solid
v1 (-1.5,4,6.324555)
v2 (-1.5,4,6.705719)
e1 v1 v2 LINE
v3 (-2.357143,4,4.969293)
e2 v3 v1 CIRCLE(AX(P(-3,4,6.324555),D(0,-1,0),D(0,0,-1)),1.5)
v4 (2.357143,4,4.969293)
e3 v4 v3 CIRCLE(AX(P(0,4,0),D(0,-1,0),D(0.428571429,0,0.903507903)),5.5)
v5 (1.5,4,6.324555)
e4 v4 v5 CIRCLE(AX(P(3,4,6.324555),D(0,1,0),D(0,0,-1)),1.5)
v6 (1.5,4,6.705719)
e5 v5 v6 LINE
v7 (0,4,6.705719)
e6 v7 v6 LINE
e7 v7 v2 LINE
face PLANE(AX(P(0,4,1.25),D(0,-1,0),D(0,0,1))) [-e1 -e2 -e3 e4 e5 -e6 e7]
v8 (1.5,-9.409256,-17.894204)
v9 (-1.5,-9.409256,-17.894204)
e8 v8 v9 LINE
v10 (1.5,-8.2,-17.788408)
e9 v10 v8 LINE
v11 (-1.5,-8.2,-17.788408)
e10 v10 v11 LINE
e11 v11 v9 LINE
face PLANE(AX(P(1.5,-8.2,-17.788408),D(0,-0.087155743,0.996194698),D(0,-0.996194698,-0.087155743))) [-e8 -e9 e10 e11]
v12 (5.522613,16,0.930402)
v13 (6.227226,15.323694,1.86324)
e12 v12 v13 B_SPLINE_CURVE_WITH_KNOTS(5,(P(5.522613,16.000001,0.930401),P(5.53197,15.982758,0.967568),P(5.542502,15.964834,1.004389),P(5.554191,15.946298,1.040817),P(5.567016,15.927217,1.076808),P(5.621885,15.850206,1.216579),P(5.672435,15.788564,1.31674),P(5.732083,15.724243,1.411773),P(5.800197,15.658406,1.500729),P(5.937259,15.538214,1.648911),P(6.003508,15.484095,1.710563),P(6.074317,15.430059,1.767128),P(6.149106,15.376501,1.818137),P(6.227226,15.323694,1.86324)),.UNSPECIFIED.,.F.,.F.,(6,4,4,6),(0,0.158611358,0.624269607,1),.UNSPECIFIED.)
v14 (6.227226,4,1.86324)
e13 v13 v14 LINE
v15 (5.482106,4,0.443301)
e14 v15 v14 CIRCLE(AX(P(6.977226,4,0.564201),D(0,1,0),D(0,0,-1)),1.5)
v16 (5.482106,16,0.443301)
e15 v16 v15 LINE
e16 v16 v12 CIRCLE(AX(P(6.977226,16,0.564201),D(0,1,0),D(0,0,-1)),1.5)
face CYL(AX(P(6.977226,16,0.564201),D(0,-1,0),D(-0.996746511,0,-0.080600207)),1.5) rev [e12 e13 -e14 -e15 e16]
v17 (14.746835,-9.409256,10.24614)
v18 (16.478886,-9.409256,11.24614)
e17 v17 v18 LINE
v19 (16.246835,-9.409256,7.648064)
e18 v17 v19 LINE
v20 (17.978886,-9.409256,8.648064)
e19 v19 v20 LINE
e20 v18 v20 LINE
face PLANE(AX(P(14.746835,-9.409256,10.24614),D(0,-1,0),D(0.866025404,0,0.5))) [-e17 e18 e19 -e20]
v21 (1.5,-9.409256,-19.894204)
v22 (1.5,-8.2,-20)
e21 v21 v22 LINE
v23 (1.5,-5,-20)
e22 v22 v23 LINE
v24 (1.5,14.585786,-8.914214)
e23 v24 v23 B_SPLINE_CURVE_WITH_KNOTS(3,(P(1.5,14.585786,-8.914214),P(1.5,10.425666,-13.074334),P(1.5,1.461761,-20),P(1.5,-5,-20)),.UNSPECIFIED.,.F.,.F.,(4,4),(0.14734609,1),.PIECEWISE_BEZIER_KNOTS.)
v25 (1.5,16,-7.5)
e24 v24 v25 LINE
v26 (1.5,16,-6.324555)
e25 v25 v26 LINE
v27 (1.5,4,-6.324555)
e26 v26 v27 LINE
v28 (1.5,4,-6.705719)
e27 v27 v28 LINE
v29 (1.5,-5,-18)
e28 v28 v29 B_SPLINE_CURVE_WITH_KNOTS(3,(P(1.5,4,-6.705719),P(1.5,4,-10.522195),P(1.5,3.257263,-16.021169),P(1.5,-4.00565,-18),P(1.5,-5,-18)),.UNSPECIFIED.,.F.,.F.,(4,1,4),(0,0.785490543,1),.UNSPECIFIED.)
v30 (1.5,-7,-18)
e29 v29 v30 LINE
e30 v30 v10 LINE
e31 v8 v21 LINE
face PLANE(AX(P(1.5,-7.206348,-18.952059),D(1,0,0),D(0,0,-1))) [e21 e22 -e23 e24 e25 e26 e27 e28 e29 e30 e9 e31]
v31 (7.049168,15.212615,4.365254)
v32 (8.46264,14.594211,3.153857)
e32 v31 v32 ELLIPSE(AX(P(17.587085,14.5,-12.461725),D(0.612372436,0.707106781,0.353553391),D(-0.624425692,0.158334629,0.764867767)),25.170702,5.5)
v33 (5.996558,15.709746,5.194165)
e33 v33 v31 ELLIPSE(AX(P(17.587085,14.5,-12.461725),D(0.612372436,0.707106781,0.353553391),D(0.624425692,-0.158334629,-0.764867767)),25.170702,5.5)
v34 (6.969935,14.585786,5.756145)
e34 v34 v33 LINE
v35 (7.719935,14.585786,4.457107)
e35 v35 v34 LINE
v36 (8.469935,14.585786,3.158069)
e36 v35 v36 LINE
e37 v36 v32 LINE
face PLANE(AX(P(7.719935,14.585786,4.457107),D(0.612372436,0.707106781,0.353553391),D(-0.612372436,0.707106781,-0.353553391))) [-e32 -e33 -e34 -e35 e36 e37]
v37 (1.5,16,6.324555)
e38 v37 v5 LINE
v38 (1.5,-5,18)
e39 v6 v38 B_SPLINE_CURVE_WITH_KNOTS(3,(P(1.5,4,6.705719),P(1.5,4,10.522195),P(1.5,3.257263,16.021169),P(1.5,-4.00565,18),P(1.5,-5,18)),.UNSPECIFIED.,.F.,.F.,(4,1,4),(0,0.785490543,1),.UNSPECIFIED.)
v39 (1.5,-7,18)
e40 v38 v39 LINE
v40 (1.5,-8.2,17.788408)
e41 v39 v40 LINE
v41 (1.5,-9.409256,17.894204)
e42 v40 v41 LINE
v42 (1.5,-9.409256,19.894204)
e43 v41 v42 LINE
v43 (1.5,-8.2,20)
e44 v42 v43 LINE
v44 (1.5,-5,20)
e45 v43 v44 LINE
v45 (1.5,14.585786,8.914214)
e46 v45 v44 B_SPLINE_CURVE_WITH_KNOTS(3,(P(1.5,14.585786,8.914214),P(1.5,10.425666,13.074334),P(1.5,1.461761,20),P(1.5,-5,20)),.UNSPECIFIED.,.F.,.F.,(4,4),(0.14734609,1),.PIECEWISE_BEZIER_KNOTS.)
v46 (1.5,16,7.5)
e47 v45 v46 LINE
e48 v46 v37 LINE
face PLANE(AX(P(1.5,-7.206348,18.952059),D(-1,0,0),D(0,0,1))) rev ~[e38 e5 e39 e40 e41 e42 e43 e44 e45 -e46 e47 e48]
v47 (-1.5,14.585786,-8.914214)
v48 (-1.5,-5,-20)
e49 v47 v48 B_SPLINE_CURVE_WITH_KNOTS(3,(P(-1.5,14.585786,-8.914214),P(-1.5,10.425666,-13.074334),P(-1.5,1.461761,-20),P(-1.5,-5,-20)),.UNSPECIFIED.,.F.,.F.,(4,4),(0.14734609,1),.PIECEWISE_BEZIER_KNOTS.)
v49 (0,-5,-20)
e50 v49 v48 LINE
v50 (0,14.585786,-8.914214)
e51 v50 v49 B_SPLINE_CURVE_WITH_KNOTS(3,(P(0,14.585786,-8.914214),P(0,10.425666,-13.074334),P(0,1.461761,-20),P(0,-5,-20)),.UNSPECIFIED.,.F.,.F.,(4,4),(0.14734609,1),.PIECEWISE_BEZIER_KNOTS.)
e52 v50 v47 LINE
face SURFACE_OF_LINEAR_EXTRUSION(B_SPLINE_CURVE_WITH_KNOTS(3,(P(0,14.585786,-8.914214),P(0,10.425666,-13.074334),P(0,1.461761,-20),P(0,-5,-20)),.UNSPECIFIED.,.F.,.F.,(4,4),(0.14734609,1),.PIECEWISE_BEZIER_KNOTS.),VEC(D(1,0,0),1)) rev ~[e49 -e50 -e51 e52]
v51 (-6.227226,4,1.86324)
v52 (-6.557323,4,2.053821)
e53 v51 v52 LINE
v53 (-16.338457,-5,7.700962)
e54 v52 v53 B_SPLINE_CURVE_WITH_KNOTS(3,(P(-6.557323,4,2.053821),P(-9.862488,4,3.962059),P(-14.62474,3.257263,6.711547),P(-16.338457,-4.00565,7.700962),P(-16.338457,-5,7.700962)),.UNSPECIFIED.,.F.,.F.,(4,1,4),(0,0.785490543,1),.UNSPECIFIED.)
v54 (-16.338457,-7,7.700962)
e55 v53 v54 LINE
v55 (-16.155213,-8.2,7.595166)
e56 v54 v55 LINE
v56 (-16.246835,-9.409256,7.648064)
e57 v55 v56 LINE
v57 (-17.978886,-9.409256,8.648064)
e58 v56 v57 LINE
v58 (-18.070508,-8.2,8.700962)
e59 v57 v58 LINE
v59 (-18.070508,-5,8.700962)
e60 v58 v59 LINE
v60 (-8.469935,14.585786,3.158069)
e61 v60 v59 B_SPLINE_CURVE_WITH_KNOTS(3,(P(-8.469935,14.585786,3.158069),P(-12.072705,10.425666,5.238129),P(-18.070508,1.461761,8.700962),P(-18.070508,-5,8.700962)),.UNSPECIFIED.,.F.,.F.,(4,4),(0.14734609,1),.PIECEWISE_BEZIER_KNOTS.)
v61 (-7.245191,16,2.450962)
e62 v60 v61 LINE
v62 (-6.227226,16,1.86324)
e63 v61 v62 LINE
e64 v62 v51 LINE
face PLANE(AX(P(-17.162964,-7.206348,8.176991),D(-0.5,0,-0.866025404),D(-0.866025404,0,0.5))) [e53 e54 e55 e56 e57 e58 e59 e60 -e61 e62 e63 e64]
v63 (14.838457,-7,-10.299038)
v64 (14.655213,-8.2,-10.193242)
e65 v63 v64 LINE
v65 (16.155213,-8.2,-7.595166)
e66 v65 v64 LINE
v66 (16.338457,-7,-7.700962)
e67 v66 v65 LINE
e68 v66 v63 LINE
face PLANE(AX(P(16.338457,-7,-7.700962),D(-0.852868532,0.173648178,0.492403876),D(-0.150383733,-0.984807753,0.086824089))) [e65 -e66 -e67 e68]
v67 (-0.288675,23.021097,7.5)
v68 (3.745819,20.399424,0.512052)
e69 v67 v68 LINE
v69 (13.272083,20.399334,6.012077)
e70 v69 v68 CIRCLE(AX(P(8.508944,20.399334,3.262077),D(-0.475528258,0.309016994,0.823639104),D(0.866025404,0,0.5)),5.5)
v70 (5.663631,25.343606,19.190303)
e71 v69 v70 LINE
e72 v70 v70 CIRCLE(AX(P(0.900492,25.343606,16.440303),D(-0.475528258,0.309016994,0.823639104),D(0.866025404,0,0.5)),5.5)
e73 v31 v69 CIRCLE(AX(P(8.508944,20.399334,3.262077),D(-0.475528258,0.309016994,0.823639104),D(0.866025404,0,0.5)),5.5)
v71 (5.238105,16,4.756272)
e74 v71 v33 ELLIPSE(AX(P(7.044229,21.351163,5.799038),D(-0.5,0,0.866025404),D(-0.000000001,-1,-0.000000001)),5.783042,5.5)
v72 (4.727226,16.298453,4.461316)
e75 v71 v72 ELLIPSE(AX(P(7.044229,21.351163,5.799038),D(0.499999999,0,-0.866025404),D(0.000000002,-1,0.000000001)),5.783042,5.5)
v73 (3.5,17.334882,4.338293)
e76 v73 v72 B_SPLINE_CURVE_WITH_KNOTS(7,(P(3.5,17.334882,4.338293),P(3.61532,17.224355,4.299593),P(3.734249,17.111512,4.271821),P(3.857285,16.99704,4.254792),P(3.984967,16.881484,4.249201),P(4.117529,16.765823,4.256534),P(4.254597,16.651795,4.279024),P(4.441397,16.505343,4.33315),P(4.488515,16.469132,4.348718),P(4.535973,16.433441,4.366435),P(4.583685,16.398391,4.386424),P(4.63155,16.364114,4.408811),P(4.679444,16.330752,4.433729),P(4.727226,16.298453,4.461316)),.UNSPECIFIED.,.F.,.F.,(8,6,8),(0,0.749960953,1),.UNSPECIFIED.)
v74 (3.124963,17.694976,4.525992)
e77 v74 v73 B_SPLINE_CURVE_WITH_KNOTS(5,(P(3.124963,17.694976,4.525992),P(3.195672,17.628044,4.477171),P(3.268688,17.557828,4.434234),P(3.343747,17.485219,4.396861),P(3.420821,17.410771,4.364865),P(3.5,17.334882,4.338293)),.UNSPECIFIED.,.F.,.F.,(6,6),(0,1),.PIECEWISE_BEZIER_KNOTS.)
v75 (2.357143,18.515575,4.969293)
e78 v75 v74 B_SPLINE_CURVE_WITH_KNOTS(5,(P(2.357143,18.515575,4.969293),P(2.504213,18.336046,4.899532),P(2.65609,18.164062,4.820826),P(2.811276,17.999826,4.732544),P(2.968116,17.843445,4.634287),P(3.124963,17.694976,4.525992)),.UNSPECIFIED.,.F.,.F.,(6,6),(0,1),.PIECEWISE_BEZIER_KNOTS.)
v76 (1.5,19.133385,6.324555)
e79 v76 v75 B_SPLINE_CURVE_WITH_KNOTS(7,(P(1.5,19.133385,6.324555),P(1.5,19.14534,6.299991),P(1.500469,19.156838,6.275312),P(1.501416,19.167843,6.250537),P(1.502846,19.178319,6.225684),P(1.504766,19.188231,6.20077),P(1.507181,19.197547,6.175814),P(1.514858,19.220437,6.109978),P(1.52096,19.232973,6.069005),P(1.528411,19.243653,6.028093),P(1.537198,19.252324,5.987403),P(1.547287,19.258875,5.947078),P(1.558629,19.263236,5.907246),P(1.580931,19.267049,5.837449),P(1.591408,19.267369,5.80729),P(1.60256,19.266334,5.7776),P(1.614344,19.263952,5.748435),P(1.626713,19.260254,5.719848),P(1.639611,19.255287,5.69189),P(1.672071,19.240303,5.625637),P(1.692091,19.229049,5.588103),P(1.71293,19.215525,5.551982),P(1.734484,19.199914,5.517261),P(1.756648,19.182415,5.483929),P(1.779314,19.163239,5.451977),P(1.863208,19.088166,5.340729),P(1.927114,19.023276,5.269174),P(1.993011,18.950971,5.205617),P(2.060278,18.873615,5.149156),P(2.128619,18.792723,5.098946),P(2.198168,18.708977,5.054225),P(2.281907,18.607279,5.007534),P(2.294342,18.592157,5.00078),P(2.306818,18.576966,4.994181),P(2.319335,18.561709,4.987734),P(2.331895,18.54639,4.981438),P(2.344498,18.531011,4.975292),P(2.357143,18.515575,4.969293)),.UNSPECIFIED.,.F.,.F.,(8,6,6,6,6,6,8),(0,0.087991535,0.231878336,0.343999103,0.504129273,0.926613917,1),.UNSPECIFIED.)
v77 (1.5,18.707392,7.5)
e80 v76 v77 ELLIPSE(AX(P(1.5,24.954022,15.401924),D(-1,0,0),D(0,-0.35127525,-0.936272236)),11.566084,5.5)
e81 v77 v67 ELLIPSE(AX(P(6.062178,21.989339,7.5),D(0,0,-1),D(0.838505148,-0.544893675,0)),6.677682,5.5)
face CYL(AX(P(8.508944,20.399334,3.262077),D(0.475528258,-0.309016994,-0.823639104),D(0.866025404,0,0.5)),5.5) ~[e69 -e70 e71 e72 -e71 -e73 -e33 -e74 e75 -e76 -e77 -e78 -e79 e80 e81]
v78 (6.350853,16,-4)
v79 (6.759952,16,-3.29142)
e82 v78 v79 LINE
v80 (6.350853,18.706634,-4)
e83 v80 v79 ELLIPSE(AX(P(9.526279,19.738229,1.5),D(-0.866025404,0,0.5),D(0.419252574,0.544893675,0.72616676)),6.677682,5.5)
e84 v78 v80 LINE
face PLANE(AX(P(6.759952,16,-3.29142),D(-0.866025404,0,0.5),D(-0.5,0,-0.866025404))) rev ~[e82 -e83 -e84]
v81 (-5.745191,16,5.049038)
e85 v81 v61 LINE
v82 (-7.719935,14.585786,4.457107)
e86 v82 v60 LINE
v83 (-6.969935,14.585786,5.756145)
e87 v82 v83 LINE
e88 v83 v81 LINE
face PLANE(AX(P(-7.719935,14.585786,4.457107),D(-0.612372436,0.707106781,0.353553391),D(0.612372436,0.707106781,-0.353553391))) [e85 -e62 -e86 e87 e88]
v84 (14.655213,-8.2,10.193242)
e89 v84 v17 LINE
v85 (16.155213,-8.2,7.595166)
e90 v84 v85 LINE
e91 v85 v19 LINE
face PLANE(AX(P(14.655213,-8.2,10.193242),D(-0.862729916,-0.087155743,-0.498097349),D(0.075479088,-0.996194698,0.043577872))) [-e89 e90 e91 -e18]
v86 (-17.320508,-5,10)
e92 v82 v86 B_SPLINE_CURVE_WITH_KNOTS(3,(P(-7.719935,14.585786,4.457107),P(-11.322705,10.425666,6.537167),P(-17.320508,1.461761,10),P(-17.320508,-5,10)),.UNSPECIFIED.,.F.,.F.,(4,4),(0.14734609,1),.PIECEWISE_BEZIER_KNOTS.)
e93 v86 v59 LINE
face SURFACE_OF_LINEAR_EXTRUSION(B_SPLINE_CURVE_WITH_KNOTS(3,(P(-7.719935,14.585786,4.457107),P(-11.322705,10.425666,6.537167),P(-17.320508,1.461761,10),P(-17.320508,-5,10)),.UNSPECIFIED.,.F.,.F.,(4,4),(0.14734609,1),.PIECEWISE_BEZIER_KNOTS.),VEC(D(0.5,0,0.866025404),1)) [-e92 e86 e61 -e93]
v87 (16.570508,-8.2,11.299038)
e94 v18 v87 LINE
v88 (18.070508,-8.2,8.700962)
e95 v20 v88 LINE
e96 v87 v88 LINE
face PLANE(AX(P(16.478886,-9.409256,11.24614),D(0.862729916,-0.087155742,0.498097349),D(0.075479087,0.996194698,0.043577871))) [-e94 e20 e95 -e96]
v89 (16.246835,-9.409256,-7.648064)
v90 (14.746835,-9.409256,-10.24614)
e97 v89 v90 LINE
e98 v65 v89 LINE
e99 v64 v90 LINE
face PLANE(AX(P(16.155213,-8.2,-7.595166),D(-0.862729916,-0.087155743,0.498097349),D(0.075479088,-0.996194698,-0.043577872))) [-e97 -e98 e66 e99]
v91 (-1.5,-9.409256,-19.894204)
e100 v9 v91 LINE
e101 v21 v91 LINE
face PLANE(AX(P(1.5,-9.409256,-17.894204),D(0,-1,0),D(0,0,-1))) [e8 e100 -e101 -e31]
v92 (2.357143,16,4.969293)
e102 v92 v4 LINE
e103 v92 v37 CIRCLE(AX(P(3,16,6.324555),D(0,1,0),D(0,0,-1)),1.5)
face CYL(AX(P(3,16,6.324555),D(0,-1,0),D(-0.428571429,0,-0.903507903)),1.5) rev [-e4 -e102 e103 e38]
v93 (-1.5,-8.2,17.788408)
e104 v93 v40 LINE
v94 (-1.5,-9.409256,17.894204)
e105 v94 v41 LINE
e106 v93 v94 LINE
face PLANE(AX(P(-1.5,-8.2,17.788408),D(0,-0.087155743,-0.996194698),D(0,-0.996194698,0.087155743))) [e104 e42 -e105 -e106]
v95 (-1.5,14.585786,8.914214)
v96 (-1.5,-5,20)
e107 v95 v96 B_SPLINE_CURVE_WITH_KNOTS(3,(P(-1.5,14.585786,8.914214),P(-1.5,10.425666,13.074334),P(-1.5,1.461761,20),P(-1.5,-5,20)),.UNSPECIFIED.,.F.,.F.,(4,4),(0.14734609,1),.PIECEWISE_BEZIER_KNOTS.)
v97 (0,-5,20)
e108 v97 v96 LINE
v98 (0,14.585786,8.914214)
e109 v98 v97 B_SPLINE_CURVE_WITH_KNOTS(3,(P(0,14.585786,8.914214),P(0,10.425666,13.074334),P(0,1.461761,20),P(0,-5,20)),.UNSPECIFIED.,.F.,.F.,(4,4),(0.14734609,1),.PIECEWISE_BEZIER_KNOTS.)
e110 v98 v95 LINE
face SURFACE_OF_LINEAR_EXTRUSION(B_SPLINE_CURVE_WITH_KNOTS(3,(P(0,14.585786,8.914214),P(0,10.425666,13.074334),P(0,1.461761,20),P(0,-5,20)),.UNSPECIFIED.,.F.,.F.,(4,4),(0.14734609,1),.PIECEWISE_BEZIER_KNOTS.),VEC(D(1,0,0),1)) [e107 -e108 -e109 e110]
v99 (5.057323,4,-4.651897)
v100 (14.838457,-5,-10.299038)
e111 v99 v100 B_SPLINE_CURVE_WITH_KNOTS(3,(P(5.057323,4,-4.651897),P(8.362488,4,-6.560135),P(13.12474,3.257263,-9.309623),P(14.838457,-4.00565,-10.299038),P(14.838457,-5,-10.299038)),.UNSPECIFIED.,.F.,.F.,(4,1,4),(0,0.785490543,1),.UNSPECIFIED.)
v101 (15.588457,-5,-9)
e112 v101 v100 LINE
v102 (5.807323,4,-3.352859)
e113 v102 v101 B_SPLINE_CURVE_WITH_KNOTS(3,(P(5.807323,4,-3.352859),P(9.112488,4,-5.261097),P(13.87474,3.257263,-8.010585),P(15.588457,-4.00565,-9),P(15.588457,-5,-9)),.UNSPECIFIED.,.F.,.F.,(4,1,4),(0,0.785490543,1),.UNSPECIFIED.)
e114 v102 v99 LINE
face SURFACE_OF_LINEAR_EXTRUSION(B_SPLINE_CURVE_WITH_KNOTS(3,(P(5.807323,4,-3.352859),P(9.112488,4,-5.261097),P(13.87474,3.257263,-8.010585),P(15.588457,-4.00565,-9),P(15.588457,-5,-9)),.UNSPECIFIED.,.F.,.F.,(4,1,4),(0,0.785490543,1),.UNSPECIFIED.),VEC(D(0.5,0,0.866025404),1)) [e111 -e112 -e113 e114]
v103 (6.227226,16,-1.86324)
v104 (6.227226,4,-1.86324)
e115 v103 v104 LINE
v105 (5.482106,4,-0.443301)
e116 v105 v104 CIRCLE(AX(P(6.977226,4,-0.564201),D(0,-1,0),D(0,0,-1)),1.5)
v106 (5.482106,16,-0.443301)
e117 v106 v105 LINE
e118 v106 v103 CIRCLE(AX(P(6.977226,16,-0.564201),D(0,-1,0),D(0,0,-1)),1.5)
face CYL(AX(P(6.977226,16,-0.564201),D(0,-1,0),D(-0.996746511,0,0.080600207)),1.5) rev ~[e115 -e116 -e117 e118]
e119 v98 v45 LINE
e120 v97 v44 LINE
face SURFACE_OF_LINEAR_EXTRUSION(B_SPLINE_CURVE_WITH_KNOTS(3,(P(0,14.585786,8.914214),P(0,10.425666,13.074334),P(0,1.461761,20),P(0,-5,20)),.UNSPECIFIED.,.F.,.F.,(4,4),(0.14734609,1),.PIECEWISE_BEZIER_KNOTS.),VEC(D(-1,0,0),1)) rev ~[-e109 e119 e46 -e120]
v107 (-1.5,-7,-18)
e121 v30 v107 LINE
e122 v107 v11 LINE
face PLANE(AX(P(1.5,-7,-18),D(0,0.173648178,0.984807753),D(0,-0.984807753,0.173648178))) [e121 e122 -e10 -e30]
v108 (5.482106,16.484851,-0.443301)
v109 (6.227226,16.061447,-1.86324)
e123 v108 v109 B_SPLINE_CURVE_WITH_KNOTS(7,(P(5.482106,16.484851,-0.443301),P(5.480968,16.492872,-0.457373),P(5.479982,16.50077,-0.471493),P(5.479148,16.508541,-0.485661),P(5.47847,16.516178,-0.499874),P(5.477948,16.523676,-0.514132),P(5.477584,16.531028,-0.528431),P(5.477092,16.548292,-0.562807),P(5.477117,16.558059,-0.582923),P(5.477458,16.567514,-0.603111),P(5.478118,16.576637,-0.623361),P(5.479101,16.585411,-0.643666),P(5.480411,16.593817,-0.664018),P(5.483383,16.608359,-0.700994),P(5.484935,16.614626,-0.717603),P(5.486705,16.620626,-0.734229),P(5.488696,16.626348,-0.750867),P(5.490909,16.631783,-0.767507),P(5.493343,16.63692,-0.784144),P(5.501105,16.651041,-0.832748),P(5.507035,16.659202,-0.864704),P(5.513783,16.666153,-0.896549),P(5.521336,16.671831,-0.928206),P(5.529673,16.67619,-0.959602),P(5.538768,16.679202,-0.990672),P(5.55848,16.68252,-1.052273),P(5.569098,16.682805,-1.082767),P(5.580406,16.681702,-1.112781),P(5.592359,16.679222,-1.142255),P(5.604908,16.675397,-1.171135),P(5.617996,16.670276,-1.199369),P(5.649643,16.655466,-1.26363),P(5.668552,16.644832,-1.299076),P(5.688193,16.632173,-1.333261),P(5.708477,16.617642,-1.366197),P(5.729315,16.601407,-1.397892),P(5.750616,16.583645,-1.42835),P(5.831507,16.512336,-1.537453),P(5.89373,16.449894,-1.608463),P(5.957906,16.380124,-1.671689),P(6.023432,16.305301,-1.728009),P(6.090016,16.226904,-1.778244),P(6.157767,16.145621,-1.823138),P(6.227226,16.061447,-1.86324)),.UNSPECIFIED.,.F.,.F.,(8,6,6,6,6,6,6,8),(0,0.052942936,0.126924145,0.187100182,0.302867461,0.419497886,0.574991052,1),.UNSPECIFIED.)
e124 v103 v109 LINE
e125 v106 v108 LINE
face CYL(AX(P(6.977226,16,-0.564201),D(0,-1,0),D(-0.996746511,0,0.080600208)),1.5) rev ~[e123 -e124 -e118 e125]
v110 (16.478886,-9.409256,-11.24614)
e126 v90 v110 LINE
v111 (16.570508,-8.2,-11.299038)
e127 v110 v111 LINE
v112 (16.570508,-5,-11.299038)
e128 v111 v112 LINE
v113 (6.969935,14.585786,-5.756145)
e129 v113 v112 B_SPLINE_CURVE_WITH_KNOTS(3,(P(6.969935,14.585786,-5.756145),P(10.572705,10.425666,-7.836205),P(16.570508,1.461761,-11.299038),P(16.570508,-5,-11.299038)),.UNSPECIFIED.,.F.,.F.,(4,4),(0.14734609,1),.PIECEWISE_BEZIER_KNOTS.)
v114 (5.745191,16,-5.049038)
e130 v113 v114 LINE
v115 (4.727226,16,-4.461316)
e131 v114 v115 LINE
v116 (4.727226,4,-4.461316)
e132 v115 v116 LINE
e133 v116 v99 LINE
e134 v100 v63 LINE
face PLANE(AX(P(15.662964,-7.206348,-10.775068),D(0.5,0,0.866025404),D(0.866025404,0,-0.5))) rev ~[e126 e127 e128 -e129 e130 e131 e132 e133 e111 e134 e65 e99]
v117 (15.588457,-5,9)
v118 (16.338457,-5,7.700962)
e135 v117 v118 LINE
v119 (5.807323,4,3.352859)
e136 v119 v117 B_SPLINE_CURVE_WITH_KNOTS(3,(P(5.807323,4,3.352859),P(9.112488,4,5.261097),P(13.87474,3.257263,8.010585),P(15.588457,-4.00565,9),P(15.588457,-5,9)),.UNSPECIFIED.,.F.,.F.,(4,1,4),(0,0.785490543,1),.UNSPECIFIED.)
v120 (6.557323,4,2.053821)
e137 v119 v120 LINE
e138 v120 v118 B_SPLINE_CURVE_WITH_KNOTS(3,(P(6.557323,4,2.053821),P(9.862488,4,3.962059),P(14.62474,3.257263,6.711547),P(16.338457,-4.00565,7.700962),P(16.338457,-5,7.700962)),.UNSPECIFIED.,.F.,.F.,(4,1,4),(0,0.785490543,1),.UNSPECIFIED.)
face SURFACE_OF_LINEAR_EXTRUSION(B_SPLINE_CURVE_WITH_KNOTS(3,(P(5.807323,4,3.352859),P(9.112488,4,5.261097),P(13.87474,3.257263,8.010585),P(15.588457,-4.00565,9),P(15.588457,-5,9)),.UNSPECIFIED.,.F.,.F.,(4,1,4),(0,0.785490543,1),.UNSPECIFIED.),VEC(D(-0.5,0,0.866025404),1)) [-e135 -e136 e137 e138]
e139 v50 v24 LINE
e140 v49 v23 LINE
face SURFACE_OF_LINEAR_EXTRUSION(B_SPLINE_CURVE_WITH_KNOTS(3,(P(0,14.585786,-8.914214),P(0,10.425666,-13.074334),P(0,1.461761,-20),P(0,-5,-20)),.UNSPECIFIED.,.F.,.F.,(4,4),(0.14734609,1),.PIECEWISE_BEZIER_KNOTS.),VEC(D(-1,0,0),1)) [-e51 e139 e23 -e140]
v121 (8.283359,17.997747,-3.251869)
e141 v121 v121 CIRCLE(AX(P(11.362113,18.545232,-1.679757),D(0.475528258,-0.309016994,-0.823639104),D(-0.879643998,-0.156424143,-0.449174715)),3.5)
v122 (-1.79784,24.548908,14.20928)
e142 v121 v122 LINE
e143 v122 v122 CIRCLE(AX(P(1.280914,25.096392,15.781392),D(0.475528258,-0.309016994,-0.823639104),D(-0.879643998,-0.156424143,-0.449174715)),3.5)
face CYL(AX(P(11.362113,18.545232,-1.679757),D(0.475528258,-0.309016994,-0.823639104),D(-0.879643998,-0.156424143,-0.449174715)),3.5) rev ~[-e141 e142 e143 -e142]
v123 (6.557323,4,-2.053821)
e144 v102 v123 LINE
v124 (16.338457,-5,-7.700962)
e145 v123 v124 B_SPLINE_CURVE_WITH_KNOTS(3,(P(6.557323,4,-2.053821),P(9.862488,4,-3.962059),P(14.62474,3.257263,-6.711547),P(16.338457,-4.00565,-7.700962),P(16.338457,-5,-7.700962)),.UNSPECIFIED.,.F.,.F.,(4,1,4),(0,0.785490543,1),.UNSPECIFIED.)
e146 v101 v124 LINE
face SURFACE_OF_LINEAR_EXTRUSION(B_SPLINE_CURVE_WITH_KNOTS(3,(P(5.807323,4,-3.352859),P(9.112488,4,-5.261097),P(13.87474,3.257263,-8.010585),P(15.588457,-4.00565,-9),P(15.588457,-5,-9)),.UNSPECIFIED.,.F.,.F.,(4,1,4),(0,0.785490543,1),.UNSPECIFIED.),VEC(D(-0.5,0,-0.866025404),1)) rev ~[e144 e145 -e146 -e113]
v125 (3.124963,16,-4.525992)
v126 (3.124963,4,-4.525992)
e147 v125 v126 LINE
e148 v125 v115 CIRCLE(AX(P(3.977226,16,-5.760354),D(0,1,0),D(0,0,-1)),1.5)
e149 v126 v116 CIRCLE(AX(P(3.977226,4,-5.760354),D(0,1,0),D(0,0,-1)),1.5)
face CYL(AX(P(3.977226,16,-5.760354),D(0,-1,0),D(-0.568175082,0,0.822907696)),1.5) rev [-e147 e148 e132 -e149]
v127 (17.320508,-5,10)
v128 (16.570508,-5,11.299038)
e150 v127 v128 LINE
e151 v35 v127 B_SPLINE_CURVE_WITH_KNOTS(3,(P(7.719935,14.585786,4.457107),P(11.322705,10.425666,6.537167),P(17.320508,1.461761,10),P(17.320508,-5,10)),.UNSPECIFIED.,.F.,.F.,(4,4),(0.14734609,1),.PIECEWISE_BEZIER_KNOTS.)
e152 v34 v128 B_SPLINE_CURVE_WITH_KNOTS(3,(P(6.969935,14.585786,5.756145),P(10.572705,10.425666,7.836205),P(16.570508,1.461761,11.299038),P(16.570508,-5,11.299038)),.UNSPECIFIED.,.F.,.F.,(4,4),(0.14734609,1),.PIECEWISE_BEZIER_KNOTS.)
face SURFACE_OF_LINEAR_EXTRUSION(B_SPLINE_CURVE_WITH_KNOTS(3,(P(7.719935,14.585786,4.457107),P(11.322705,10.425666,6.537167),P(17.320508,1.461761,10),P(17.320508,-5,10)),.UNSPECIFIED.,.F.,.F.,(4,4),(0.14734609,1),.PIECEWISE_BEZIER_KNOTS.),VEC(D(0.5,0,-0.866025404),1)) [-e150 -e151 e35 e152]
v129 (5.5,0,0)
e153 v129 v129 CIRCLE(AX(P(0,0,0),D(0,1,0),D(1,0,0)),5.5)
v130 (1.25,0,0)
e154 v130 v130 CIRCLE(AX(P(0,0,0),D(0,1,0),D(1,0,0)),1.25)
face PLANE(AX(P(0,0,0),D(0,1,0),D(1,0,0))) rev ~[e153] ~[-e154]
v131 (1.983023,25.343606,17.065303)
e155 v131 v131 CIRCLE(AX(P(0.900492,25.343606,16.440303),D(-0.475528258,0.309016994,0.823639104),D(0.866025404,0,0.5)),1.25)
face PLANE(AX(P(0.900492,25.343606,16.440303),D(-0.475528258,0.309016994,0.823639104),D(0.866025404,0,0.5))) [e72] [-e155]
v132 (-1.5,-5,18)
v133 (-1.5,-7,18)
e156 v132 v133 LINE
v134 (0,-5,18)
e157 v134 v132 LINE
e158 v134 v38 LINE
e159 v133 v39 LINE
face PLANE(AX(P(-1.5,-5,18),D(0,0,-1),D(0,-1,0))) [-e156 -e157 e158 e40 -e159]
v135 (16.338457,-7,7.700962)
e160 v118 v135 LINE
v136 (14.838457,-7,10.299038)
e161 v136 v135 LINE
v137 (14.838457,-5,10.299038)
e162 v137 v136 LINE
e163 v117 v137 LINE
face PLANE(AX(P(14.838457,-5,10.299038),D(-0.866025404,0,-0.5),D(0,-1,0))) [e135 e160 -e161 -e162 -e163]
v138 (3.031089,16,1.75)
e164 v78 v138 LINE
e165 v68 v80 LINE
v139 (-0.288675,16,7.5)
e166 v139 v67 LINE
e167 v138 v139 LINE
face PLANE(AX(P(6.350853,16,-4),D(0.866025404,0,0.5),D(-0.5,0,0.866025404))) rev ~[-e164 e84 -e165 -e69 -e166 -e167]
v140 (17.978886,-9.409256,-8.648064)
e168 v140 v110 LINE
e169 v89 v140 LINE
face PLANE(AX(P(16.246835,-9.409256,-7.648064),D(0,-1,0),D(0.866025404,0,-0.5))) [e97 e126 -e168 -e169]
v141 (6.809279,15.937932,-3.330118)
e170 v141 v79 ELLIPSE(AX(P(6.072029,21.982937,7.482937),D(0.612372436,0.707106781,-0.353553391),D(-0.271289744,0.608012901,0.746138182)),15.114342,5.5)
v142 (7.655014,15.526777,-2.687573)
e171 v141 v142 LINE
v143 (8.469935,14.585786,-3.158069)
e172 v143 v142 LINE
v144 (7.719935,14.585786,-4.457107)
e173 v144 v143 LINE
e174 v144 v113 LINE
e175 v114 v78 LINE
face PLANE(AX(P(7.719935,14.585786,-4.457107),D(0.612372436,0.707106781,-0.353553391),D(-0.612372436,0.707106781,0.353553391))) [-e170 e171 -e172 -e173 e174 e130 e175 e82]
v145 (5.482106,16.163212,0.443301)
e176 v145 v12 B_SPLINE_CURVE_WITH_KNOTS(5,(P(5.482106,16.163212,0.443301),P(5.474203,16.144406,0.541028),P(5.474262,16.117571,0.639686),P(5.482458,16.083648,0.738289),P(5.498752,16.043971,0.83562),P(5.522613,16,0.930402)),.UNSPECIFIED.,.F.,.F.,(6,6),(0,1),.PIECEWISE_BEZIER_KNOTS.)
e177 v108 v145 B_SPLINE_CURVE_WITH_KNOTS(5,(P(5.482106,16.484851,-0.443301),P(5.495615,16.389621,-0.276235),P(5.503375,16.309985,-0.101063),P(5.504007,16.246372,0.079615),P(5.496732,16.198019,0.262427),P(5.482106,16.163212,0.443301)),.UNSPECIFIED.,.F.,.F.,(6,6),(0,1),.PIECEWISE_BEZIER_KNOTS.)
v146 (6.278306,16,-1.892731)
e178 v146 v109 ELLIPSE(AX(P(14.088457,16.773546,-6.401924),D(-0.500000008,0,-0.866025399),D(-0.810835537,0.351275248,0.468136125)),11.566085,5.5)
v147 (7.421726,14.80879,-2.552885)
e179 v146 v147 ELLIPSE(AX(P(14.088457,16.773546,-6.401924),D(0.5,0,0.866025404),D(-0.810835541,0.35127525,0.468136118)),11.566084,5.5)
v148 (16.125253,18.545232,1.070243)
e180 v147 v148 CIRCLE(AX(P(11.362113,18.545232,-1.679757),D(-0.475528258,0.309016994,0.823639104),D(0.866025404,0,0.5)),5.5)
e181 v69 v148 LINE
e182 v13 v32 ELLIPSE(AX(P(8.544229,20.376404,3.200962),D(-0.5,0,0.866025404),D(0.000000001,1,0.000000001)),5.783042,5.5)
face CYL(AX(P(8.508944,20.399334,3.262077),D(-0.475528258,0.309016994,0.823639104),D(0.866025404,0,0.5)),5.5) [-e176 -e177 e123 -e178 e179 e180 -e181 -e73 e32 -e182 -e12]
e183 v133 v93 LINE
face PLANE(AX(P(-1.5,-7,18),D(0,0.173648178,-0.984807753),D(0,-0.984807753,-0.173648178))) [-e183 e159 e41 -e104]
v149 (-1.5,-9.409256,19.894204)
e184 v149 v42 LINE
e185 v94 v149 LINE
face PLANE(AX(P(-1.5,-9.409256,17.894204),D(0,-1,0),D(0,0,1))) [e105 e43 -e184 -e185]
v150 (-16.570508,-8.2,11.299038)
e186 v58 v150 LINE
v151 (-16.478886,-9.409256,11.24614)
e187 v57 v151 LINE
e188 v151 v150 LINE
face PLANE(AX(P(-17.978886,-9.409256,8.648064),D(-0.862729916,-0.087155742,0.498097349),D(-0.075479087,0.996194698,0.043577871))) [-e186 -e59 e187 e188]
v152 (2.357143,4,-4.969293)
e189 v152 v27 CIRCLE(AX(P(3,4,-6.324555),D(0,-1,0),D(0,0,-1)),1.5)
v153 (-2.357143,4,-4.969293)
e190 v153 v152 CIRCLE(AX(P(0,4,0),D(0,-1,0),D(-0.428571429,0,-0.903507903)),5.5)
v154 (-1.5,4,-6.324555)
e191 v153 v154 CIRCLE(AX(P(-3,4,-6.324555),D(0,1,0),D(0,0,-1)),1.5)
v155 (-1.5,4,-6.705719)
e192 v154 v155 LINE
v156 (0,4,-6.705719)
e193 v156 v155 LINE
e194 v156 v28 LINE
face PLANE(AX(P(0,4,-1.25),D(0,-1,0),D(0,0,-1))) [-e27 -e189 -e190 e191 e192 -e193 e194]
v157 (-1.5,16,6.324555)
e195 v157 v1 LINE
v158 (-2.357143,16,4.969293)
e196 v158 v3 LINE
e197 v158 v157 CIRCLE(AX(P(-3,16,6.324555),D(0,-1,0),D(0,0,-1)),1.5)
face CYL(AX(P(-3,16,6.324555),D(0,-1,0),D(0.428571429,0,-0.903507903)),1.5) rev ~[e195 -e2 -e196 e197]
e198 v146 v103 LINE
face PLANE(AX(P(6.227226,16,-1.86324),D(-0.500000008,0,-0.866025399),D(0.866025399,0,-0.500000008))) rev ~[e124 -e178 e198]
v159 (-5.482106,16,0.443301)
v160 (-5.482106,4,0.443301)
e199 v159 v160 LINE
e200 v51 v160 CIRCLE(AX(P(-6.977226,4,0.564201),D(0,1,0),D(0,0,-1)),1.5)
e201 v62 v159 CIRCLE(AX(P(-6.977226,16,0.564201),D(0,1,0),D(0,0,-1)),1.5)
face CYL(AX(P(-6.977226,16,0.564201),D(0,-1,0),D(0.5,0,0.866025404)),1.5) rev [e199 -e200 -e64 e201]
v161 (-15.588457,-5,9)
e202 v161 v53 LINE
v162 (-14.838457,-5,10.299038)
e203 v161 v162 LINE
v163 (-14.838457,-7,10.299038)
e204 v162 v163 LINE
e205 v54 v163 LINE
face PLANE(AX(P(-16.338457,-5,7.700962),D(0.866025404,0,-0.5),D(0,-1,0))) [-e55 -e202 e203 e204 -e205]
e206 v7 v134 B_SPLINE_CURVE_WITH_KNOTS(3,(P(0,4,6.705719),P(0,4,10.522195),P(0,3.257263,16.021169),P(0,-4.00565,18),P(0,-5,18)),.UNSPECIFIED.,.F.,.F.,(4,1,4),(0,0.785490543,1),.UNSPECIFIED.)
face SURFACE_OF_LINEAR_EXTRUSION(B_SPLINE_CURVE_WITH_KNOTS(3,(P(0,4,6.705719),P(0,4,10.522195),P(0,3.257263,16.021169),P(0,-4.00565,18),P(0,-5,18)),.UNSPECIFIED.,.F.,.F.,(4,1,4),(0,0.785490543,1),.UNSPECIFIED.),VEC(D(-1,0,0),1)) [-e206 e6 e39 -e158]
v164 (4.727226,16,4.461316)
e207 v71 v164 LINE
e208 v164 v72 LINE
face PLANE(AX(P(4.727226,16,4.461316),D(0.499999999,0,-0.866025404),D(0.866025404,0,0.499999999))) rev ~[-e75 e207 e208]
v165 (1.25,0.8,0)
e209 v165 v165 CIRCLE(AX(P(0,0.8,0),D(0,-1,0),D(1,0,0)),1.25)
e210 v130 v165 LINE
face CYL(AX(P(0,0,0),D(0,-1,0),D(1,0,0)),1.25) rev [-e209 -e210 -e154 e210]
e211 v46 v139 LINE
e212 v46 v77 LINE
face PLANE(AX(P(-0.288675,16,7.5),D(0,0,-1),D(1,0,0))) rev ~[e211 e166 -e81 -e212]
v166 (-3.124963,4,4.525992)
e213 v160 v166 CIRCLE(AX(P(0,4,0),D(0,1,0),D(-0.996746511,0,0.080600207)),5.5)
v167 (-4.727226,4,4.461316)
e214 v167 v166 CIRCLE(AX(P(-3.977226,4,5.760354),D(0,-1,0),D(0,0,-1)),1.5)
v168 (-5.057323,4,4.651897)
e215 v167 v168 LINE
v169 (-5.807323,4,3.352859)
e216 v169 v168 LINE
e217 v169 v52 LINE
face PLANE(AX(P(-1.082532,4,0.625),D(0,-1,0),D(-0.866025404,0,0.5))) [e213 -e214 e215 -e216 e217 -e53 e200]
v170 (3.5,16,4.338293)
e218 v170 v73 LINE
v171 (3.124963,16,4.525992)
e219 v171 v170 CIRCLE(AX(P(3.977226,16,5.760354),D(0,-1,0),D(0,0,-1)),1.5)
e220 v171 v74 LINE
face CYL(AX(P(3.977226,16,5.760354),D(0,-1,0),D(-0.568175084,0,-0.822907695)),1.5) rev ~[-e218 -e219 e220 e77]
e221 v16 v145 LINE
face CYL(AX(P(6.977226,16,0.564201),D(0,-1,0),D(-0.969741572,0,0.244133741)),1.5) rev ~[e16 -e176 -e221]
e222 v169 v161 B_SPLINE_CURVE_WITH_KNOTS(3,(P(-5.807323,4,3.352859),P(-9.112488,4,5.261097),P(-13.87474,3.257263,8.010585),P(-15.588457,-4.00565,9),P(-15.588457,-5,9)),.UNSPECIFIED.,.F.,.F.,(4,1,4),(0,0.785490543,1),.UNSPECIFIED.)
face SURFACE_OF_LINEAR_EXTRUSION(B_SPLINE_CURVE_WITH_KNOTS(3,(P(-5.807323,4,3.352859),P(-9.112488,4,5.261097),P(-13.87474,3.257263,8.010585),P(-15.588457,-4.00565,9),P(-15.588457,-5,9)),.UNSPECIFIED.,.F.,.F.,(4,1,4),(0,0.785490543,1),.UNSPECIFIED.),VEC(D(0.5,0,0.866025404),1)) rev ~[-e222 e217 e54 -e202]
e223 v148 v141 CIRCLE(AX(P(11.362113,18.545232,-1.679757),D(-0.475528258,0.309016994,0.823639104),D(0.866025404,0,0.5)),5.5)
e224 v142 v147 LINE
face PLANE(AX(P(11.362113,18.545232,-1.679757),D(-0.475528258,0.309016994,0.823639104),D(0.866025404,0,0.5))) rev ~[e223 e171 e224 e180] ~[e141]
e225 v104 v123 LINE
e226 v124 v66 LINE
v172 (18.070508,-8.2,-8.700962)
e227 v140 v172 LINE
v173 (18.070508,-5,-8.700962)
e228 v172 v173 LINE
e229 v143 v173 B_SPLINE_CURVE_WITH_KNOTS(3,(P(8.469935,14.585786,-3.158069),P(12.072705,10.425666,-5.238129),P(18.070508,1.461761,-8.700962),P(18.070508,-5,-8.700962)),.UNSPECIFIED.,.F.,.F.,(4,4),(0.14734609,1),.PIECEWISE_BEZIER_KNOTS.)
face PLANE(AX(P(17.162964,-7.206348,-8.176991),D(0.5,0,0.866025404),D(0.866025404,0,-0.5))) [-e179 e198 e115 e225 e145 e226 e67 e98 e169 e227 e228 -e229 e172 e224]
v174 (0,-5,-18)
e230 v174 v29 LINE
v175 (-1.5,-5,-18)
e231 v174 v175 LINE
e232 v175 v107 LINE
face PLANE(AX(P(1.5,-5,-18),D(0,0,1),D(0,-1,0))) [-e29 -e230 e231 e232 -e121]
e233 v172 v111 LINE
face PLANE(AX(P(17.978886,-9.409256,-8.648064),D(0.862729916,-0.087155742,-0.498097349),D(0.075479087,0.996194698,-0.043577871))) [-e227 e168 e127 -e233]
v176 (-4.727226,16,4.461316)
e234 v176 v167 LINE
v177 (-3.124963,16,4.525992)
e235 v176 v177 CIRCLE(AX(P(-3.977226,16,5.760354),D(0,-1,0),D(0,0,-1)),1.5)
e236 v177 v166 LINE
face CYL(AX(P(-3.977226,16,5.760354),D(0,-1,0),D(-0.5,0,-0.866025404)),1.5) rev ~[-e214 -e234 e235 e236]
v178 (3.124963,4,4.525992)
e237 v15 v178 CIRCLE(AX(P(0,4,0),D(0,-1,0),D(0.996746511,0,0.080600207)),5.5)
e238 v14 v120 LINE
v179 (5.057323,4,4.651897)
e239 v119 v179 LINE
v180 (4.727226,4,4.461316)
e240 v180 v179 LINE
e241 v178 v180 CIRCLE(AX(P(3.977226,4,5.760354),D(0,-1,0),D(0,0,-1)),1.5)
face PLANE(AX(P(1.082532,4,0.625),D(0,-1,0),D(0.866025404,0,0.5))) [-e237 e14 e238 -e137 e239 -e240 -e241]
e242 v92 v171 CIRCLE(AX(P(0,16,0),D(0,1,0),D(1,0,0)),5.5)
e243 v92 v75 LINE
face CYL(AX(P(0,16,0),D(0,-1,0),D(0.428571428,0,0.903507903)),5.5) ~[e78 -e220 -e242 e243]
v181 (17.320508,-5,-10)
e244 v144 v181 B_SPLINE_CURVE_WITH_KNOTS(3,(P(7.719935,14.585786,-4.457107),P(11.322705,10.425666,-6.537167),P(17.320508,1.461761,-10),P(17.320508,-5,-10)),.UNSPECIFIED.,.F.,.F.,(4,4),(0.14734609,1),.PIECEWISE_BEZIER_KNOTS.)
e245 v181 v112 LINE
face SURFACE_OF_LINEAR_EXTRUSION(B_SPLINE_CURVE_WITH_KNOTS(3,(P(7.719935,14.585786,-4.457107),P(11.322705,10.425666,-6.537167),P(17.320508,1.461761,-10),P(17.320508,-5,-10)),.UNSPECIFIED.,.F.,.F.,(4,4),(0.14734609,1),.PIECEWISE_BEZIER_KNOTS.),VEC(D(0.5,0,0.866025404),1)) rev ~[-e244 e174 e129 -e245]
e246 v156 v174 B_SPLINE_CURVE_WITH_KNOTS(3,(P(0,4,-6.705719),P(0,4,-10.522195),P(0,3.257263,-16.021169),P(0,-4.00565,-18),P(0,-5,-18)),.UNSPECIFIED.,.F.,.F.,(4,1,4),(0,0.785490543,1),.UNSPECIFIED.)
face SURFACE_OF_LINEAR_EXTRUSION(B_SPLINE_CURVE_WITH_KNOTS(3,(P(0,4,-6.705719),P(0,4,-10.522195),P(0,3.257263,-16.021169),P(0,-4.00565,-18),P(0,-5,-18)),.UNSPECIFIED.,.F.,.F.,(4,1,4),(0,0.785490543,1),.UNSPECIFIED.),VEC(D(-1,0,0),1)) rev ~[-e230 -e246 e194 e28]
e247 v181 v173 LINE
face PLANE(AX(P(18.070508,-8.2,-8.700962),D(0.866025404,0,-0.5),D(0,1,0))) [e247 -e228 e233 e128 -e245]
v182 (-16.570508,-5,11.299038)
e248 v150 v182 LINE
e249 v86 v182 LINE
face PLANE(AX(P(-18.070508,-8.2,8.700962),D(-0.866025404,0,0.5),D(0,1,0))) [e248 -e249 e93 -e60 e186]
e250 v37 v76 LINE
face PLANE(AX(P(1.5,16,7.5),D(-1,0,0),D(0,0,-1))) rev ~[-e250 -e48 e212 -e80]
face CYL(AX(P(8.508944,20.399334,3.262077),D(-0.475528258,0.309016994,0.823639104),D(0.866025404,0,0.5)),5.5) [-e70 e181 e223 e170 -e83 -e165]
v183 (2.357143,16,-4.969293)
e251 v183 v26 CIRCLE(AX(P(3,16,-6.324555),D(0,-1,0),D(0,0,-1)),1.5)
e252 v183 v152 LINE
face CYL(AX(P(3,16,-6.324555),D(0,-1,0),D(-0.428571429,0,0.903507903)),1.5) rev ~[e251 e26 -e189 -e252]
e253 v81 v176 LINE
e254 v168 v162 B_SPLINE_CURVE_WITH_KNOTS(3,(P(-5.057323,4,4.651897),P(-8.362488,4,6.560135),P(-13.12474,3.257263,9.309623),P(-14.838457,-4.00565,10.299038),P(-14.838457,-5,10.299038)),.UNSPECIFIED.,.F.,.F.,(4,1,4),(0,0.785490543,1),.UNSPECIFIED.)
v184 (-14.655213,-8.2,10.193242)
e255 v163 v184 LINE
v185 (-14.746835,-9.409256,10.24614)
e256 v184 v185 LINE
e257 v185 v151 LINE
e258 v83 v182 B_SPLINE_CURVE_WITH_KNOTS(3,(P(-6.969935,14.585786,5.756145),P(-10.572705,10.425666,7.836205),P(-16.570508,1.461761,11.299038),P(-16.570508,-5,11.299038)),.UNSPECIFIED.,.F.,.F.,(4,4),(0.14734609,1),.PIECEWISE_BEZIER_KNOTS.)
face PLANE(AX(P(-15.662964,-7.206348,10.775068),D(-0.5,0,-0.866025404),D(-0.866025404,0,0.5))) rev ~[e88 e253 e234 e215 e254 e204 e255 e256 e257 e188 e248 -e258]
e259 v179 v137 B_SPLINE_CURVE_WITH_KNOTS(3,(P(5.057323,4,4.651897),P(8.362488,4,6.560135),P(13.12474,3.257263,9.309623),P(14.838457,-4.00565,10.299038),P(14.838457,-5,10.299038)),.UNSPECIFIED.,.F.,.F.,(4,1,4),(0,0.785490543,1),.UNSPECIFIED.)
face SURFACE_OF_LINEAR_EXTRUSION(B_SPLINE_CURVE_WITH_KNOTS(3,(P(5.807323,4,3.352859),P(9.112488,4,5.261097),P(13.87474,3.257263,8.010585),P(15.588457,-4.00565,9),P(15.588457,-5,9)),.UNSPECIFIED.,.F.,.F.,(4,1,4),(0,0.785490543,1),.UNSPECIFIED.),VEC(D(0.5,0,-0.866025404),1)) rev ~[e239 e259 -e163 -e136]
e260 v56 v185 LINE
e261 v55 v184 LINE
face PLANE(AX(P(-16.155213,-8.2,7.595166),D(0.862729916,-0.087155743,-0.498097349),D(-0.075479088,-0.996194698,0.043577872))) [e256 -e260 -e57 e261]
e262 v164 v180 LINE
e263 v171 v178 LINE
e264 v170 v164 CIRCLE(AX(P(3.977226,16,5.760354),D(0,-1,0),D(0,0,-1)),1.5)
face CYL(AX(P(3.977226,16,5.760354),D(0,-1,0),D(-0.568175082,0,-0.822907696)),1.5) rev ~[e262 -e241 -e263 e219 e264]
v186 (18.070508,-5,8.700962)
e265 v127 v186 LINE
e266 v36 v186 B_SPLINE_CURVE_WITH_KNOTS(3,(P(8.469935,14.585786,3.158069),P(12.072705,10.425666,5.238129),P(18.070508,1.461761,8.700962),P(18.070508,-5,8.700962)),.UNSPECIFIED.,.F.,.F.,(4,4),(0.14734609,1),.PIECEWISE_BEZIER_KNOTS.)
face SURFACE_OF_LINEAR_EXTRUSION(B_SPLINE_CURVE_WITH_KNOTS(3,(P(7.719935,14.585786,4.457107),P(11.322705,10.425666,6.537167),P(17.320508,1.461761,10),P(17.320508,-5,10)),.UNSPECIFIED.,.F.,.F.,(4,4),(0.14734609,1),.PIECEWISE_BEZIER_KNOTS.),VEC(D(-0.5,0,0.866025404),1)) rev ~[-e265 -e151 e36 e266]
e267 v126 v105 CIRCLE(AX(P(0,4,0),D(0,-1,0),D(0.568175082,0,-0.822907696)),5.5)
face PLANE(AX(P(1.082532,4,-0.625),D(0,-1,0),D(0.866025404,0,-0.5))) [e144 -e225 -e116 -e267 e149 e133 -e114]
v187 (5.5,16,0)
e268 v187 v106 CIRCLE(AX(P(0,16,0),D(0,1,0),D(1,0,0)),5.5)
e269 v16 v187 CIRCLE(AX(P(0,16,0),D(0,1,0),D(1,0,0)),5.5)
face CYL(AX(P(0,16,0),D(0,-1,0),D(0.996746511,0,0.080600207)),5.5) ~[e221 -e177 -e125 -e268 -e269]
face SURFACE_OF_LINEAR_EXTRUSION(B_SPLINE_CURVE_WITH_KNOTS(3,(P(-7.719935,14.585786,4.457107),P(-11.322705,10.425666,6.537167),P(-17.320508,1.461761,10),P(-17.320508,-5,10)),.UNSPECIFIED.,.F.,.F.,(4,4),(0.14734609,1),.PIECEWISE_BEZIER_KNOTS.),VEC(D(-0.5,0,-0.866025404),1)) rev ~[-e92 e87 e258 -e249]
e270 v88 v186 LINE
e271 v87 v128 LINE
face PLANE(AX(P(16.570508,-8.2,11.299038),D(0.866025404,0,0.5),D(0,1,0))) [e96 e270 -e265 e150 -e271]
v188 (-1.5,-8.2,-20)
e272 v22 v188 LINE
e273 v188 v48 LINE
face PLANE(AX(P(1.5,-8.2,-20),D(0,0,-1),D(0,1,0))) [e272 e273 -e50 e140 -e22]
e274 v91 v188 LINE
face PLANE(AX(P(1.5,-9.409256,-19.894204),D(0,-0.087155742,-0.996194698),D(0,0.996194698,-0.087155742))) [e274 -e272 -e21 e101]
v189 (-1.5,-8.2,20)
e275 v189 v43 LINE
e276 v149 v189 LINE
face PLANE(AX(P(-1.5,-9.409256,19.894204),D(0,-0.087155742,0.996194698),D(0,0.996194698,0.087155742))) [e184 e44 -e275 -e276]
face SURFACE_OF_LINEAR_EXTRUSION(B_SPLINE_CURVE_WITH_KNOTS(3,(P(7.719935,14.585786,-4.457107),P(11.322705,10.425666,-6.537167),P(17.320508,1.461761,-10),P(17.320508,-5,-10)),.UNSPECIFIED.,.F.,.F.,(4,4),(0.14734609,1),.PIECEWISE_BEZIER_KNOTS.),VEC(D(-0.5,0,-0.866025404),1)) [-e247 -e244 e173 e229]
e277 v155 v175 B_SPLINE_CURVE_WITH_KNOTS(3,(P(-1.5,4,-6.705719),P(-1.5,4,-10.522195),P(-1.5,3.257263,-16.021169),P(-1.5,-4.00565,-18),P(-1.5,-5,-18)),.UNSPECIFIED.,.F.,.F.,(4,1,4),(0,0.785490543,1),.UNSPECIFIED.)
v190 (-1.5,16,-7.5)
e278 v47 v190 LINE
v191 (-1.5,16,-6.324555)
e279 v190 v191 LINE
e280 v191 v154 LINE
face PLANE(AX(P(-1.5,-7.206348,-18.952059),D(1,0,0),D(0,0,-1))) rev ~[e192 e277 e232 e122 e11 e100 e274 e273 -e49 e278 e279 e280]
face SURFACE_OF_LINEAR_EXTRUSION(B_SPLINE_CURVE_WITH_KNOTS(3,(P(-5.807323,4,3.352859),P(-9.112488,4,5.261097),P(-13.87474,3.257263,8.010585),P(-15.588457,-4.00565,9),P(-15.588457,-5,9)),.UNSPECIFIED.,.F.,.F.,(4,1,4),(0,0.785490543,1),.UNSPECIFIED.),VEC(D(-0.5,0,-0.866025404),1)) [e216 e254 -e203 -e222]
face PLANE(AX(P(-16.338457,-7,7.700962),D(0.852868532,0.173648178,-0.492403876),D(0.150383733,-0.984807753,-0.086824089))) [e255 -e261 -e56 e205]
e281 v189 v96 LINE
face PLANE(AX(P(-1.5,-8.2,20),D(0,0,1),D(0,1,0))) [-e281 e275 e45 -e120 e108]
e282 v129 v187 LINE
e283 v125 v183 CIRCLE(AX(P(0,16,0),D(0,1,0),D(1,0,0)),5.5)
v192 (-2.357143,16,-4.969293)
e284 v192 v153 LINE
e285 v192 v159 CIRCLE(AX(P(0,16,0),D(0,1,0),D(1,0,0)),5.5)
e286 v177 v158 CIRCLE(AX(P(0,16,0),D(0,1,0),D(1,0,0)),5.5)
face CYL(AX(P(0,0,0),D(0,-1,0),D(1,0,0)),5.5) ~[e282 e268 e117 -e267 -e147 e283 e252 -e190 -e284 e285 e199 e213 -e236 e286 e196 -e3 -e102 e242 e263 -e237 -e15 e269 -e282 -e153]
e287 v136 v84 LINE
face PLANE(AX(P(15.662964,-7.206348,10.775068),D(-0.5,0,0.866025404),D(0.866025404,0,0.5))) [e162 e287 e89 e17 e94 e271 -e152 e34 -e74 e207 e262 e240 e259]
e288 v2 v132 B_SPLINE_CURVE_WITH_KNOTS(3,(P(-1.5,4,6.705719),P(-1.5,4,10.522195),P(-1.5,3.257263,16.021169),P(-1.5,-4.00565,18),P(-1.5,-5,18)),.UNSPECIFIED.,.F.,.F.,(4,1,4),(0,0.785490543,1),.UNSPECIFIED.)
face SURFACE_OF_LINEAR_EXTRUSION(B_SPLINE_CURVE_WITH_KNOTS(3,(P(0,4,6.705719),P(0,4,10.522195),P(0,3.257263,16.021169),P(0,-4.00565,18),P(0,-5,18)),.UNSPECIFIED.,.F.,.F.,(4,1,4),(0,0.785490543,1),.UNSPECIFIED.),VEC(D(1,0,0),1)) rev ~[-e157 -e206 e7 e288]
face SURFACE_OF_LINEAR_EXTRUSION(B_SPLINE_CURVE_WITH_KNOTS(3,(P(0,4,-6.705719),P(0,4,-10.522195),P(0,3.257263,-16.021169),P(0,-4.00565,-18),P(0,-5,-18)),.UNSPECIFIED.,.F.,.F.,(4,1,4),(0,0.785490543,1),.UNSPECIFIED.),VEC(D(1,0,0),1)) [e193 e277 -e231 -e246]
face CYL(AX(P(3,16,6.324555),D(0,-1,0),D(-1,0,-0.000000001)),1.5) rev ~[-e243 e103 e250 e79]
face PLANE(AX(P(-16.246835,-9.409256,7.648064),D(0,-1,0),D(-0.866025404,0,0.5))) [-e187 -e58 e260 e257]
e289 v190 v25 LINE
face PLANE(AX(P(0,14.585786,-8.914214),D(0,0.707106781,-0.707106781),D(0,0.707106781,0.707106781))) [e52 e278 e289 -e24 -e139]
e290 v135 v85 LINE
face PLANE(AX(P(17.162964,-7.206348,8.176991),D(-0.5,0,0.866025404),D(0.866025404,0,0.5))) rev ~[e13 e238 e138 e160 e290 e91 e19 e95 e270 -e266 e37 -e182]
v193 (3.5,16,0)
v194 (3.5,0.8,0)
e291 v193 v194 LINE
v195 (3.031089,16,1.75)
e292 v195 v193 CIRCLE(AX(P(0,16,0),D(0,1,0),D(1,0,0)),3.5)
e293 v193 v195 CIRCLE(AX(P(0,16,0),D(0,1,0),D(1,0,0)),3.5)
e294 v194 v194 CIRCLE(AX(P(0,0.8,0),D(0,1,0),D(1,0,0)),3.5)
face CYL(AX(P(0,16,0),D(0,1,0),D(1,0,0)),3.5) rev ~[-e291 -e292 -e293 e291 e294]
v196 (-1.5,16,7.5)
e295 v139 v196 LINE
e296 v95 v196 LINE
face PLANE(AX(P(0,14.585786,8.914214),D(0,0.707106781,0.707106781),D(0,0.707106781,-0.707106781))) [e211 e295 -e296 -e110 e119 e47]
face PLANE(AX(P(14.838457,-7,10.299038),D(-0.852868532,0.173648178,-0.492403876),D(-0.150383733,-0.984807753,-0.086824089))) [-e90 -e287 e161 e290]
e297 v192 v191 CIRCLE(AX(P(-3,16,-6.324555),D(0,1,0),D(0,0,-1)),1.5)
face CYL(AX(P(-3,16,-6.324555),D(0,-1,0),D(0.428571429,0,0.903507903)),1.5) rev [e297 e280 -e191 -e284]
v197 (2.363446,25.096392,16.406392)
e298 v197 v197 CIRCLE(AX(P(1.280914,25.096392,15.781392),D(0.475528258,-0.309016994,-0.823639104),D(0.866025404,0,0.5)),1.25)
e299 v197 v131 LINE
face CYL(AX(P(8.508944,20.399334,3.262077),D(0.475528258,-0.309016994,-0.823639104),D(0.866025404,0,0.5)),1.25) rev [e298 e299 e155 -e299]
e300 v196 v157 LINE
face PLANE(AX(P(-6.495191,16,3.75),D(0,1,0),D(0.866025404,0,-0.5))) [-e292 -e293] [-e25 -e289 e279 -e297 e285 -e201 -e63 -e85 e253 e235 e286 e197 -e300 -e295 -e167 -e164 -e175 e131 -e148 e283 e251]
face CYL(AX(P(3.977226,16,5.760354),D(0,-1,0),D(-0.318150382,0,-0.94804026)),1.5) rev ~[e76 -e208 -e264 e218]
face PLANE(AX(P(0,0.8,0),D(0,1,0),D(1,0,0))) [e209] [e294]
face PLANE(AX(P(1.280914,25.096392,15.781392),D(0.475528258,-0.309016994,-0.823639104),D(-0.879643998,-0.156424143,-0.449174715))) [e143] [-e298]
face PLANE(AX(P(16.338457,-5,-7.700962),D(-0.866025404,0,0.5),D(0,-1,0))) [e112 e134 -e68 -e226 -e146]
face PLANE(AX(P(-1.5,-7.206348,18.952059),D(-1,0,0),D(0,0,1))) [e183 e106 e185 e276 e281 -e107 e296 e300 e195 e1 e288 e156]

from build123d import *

# Parameters (mm, degrees)
SKETCH1_R                = 5.5
SKETCH1_R_2              = 1.25
BOSS_EXTRUDE1_DEPTH      = 16
BOSS_EXTRUDE2_DEPTH      = 1.5
BOSS_EXTRUDE3_DEPTH      = 3
CIRPATTERN1_COUNT        = 5
CIRPATTERN1_ANGLE        = 240
FILLET1_R                = 1.5
SKETCH6_R                = 3.5
CUT_EXTRUDE1_DEPTH       = 15.2
SKETCH10_R               = 5.5
SKETCH10_R_2             = 1.25
BOSS_EXTRUDE4_DEPTH      = 16
BOSS_EXTRUDE4_DEPTH_BACK = 6
BOSS_EXTRUDE10_REACH     = 16.574
SKETCH11_R               = 3.5
CUT_EXTRUDE2_DEPTH       = 21.2


with BuildPart() as part:
    # Sketch1 → Boss-Extrude1 (new body)
    with BuildSketch(Plane(origin=(0, 0, 0), x_dir=(1, 0, 0), z_dir=(0, 1, 0))):
        Circle(SKETCH1_R)
        Circle(SKETCH1_R_2, mode=Mode.SUBTRACT)
    extrude(amount=BOSS_EXTRUDE1_DEPTH)

    # Sketch2 → Boss-Extrude2 (add, symmetric)
    with BuildSketch(Plane(origin=(0, 0, 0), x_dir=(0, 0, -1), z_dir=(1, 0, 0))):
        with BuildLine():
            Line((18, -5), (20, -5))
            add(Edge.make_bspline(
                [(8.914213562, 14.585786438), (13.074333826, 10.425666174), (20, 1.461761402), (20, -5)],
                knots=[0.14734609, 0.14734609, 0.14734609, 0.14734609, 1, 1, 1, 1], degree=3))
            Line((8.914213562, 14.585786438), (7.5, 16))
            Line((7.5, 16), (5.5, 16))
            Line((5.5, 16), (1.25, 16))
            Line((1.25, 16), (1.25, 4))
            Line((1.25, 4), (6.70571865, 4))
            add(Edge.make_bspline(
                [(6.70571865, 4), (10.522194615, 4), (16.021169224, 3.257262603), (18, -4.005650027), (18, -5)],
                knots=[0, 0, 0, 0, 0.785490543, 1, 1, 1, 1], degree=3))
        make_face()
    boss_extrude2 = extrude(amount=BOSS_EXTRUDE2_DEPTH, both=True)

    # Sketch8 → Boss-Extrude3 (add)
    with BuildSketch(Plane(origin=(1.5, 0, 0), x_dir=(0, 0, -1), z_dir=(1, 0, 0))):
        Polygon((18, -7), (17.788407623, -8.2), (17.894203812, -9.409255967), (19.894203812, -9.409255967), (20, -8.2), (20, -7), (20, -5), (18, -5), align=None)
    boss_extrude3 = extrude(amount=-BOSS_EXTRUDE3_DEPTH)

    # CirPattern1: Boss-Extrude2, Boss-Extrude3 ×5 about axis
    cirpattern1_axis = Axis((0, 16, 0), (0, -1, 0))
    for i in range(1, CIRPATTERN1_COUNT):
        add(boss_extrude2.rotate(cirpattern1_axis, i * CIRPATTERN1_ANGLE / (CIRPATTERN1_COUNT - 1)))
        add(boss_extrude3.rotate(cirpattern1_axis, i * CIRPATTERN1_ANGLE / (CIRPATTERN1_COUNT - 1)))

    # Fillet1
    fillet1_edges = [part.edges().sort_by_distance(p)[0] for p in [
        (-5.332575695, 10, 1.346713205),
        (1.5, 10, -5.291502622),
        (-1.5, 10, -5.291502622),
        (3.832575695, 10, -3.944789417),
        (5.332575695, 10, 1.346713205),
        (1.5, 10, 5.291502622),
        (-3.832575695, 10, 3.944789417),
        (5.332575695, 10, -1.346713205),
        (3.832575695, 10, 3.944789417),
        (-1.5, 10, 5.291502622),
    ]]
    fillet(fillet1_edges, radius=FILLET1_R)

    # Sketch6 → Cut-Extrude1 (cut)
    with BuildSketch(Plane(origin=(0, 16, 0), x_dir=(1, 0, 0), z_dir=(0, 1, 0))):
        Circle(SKETCH6_R)
    extrude(amount=-CUT_EXTRUDE1_DEPTH, mode=Mode.SUBTRACT)

    # Sketch10 → Boss-Extrude4 (add, two sides)
    with BuildSketch(Plane(origin=(-2.351141009, 1.527864045, 4.072295684), x_dir=(0.866025404, 0, 0.5), z_dir=(-0.475528258, 0.309016994, 0.823639104))) as boss_extrude4_sk:
        with Locations((9, 19.842637557)):
            Circle(SKETCH10_R)
        with Locations((9, 19.842637557)):
            Circle(SKETCH10_R_2, mode=Mode.SUBTRACT)
    extrude(amount=BOSS_EXTRUDE4_DEPTH)
    extrude(boss_extrude4_sk.sketch, amount=-BOSS_EXTRUDE4_DEPTH_BACK)

    # Sketch16 → Boss-Extrude10 (add, up to next)
    with BuildSketch(Plane(origin=(0, 16, 0), x_dir=(1, 0, 0), z_dir=(0, 1, 0)), mode=Mode.PRIVATE) as boss_extrude10_sk1:
        with BuildLine():
            Line((6.350852961, 4), (-0.288675135, -7.5))
            Line((-0.288675135, -7.5), (1.5, -7.5))
            Line((1.5, -7.5), (1.5, -6.32455532))
            ThreePointArc((1.5, -6.32455532), (1.732268618, -5.522771595), (2.357142857, -4.969293466))
            ThreePointArc((2.357142857, -4.969293466), (2.75, -4.763139721), (3.124962952, -4.525992328))
            ThreePointArc((3.124962952, -4.525992328), (3.305889272, -4.418971164), (3.5, -4.338293482))
            ThreePointArc((3.5, -4.338293482), (4.126842059, -4.267834221), (4.727225575, -4.461315766))
            Line((4.727225575, -4.461315766), (5.23810468, -4.756271954))
            add(Edge.make_bspline(
                [(5.522613217, -0.930402058), (5.049152923, -3.22167428), (5.23810468, -4.756271954)],
                knots=[5.532424046, 5.532424046, 5.532424046, 5.894267037, 5.894267037, 5.894267037], degree=2, weights=[1, 0.9836783, 1]))
            ThreePointArc((5.522613217, -0.930402058), (5.482385541, -0.688512638), (5.482105809, -0.443301138))
            ThreePointArc((5.482105809, -0.443301138), (5.5, 0), (5.482105809, 0.443301138))
            ThreePointArc((5.482105809, 0.443301138), (5.648994809, 1.261197168), (6.227225575, 1.863239554))
            Line((6.227225575, 1.863239554), (6.278306217, 1.892730977))
            add(Edge.make_bspline(
                [(6.759951788, 3.291420046), (6.498738058, 2.578407465), (6.278306217, 1.892730977)],
                knots=[5.225610557, 5.225610557, 5.225610557, 5.322030654, 5.322030654, 5.322030654], degree=2, weights=[1, 0.998838121, 1]))
            Line((6.759951788, 3.291420046), (6.350852961, 4))
        make_face()
    boss_extrude10_tool1 = extrude(boss_extrude10_sk1.sketch, amount=BOSS_EXTRUDE10_REACH, mode=Mode.PRIVATE) - part.part
    add(boss_extrude10_tool1.solids().sort_by_distance((3.702235, 16, 2.406075))[0])

    # Sketch11 → Cut-Extrude2 (cut)
    with BuildSketch(Plane(origin=(0.50202854, -0.326237921, -0.869538938), x_dir=(-0.879643998, -0.156424143, -0.449174715), z_dir=(0.475528258, -0.309016994, -0.823639104))):
        with Locations((-12.14103215, 18.092142039)):
            Circle(SKETCH11_R)
    extrude(amount=-CUT_EXTRUDE2_DEPTH, mode=Mode.SUBTRACT)


solid = part.part
